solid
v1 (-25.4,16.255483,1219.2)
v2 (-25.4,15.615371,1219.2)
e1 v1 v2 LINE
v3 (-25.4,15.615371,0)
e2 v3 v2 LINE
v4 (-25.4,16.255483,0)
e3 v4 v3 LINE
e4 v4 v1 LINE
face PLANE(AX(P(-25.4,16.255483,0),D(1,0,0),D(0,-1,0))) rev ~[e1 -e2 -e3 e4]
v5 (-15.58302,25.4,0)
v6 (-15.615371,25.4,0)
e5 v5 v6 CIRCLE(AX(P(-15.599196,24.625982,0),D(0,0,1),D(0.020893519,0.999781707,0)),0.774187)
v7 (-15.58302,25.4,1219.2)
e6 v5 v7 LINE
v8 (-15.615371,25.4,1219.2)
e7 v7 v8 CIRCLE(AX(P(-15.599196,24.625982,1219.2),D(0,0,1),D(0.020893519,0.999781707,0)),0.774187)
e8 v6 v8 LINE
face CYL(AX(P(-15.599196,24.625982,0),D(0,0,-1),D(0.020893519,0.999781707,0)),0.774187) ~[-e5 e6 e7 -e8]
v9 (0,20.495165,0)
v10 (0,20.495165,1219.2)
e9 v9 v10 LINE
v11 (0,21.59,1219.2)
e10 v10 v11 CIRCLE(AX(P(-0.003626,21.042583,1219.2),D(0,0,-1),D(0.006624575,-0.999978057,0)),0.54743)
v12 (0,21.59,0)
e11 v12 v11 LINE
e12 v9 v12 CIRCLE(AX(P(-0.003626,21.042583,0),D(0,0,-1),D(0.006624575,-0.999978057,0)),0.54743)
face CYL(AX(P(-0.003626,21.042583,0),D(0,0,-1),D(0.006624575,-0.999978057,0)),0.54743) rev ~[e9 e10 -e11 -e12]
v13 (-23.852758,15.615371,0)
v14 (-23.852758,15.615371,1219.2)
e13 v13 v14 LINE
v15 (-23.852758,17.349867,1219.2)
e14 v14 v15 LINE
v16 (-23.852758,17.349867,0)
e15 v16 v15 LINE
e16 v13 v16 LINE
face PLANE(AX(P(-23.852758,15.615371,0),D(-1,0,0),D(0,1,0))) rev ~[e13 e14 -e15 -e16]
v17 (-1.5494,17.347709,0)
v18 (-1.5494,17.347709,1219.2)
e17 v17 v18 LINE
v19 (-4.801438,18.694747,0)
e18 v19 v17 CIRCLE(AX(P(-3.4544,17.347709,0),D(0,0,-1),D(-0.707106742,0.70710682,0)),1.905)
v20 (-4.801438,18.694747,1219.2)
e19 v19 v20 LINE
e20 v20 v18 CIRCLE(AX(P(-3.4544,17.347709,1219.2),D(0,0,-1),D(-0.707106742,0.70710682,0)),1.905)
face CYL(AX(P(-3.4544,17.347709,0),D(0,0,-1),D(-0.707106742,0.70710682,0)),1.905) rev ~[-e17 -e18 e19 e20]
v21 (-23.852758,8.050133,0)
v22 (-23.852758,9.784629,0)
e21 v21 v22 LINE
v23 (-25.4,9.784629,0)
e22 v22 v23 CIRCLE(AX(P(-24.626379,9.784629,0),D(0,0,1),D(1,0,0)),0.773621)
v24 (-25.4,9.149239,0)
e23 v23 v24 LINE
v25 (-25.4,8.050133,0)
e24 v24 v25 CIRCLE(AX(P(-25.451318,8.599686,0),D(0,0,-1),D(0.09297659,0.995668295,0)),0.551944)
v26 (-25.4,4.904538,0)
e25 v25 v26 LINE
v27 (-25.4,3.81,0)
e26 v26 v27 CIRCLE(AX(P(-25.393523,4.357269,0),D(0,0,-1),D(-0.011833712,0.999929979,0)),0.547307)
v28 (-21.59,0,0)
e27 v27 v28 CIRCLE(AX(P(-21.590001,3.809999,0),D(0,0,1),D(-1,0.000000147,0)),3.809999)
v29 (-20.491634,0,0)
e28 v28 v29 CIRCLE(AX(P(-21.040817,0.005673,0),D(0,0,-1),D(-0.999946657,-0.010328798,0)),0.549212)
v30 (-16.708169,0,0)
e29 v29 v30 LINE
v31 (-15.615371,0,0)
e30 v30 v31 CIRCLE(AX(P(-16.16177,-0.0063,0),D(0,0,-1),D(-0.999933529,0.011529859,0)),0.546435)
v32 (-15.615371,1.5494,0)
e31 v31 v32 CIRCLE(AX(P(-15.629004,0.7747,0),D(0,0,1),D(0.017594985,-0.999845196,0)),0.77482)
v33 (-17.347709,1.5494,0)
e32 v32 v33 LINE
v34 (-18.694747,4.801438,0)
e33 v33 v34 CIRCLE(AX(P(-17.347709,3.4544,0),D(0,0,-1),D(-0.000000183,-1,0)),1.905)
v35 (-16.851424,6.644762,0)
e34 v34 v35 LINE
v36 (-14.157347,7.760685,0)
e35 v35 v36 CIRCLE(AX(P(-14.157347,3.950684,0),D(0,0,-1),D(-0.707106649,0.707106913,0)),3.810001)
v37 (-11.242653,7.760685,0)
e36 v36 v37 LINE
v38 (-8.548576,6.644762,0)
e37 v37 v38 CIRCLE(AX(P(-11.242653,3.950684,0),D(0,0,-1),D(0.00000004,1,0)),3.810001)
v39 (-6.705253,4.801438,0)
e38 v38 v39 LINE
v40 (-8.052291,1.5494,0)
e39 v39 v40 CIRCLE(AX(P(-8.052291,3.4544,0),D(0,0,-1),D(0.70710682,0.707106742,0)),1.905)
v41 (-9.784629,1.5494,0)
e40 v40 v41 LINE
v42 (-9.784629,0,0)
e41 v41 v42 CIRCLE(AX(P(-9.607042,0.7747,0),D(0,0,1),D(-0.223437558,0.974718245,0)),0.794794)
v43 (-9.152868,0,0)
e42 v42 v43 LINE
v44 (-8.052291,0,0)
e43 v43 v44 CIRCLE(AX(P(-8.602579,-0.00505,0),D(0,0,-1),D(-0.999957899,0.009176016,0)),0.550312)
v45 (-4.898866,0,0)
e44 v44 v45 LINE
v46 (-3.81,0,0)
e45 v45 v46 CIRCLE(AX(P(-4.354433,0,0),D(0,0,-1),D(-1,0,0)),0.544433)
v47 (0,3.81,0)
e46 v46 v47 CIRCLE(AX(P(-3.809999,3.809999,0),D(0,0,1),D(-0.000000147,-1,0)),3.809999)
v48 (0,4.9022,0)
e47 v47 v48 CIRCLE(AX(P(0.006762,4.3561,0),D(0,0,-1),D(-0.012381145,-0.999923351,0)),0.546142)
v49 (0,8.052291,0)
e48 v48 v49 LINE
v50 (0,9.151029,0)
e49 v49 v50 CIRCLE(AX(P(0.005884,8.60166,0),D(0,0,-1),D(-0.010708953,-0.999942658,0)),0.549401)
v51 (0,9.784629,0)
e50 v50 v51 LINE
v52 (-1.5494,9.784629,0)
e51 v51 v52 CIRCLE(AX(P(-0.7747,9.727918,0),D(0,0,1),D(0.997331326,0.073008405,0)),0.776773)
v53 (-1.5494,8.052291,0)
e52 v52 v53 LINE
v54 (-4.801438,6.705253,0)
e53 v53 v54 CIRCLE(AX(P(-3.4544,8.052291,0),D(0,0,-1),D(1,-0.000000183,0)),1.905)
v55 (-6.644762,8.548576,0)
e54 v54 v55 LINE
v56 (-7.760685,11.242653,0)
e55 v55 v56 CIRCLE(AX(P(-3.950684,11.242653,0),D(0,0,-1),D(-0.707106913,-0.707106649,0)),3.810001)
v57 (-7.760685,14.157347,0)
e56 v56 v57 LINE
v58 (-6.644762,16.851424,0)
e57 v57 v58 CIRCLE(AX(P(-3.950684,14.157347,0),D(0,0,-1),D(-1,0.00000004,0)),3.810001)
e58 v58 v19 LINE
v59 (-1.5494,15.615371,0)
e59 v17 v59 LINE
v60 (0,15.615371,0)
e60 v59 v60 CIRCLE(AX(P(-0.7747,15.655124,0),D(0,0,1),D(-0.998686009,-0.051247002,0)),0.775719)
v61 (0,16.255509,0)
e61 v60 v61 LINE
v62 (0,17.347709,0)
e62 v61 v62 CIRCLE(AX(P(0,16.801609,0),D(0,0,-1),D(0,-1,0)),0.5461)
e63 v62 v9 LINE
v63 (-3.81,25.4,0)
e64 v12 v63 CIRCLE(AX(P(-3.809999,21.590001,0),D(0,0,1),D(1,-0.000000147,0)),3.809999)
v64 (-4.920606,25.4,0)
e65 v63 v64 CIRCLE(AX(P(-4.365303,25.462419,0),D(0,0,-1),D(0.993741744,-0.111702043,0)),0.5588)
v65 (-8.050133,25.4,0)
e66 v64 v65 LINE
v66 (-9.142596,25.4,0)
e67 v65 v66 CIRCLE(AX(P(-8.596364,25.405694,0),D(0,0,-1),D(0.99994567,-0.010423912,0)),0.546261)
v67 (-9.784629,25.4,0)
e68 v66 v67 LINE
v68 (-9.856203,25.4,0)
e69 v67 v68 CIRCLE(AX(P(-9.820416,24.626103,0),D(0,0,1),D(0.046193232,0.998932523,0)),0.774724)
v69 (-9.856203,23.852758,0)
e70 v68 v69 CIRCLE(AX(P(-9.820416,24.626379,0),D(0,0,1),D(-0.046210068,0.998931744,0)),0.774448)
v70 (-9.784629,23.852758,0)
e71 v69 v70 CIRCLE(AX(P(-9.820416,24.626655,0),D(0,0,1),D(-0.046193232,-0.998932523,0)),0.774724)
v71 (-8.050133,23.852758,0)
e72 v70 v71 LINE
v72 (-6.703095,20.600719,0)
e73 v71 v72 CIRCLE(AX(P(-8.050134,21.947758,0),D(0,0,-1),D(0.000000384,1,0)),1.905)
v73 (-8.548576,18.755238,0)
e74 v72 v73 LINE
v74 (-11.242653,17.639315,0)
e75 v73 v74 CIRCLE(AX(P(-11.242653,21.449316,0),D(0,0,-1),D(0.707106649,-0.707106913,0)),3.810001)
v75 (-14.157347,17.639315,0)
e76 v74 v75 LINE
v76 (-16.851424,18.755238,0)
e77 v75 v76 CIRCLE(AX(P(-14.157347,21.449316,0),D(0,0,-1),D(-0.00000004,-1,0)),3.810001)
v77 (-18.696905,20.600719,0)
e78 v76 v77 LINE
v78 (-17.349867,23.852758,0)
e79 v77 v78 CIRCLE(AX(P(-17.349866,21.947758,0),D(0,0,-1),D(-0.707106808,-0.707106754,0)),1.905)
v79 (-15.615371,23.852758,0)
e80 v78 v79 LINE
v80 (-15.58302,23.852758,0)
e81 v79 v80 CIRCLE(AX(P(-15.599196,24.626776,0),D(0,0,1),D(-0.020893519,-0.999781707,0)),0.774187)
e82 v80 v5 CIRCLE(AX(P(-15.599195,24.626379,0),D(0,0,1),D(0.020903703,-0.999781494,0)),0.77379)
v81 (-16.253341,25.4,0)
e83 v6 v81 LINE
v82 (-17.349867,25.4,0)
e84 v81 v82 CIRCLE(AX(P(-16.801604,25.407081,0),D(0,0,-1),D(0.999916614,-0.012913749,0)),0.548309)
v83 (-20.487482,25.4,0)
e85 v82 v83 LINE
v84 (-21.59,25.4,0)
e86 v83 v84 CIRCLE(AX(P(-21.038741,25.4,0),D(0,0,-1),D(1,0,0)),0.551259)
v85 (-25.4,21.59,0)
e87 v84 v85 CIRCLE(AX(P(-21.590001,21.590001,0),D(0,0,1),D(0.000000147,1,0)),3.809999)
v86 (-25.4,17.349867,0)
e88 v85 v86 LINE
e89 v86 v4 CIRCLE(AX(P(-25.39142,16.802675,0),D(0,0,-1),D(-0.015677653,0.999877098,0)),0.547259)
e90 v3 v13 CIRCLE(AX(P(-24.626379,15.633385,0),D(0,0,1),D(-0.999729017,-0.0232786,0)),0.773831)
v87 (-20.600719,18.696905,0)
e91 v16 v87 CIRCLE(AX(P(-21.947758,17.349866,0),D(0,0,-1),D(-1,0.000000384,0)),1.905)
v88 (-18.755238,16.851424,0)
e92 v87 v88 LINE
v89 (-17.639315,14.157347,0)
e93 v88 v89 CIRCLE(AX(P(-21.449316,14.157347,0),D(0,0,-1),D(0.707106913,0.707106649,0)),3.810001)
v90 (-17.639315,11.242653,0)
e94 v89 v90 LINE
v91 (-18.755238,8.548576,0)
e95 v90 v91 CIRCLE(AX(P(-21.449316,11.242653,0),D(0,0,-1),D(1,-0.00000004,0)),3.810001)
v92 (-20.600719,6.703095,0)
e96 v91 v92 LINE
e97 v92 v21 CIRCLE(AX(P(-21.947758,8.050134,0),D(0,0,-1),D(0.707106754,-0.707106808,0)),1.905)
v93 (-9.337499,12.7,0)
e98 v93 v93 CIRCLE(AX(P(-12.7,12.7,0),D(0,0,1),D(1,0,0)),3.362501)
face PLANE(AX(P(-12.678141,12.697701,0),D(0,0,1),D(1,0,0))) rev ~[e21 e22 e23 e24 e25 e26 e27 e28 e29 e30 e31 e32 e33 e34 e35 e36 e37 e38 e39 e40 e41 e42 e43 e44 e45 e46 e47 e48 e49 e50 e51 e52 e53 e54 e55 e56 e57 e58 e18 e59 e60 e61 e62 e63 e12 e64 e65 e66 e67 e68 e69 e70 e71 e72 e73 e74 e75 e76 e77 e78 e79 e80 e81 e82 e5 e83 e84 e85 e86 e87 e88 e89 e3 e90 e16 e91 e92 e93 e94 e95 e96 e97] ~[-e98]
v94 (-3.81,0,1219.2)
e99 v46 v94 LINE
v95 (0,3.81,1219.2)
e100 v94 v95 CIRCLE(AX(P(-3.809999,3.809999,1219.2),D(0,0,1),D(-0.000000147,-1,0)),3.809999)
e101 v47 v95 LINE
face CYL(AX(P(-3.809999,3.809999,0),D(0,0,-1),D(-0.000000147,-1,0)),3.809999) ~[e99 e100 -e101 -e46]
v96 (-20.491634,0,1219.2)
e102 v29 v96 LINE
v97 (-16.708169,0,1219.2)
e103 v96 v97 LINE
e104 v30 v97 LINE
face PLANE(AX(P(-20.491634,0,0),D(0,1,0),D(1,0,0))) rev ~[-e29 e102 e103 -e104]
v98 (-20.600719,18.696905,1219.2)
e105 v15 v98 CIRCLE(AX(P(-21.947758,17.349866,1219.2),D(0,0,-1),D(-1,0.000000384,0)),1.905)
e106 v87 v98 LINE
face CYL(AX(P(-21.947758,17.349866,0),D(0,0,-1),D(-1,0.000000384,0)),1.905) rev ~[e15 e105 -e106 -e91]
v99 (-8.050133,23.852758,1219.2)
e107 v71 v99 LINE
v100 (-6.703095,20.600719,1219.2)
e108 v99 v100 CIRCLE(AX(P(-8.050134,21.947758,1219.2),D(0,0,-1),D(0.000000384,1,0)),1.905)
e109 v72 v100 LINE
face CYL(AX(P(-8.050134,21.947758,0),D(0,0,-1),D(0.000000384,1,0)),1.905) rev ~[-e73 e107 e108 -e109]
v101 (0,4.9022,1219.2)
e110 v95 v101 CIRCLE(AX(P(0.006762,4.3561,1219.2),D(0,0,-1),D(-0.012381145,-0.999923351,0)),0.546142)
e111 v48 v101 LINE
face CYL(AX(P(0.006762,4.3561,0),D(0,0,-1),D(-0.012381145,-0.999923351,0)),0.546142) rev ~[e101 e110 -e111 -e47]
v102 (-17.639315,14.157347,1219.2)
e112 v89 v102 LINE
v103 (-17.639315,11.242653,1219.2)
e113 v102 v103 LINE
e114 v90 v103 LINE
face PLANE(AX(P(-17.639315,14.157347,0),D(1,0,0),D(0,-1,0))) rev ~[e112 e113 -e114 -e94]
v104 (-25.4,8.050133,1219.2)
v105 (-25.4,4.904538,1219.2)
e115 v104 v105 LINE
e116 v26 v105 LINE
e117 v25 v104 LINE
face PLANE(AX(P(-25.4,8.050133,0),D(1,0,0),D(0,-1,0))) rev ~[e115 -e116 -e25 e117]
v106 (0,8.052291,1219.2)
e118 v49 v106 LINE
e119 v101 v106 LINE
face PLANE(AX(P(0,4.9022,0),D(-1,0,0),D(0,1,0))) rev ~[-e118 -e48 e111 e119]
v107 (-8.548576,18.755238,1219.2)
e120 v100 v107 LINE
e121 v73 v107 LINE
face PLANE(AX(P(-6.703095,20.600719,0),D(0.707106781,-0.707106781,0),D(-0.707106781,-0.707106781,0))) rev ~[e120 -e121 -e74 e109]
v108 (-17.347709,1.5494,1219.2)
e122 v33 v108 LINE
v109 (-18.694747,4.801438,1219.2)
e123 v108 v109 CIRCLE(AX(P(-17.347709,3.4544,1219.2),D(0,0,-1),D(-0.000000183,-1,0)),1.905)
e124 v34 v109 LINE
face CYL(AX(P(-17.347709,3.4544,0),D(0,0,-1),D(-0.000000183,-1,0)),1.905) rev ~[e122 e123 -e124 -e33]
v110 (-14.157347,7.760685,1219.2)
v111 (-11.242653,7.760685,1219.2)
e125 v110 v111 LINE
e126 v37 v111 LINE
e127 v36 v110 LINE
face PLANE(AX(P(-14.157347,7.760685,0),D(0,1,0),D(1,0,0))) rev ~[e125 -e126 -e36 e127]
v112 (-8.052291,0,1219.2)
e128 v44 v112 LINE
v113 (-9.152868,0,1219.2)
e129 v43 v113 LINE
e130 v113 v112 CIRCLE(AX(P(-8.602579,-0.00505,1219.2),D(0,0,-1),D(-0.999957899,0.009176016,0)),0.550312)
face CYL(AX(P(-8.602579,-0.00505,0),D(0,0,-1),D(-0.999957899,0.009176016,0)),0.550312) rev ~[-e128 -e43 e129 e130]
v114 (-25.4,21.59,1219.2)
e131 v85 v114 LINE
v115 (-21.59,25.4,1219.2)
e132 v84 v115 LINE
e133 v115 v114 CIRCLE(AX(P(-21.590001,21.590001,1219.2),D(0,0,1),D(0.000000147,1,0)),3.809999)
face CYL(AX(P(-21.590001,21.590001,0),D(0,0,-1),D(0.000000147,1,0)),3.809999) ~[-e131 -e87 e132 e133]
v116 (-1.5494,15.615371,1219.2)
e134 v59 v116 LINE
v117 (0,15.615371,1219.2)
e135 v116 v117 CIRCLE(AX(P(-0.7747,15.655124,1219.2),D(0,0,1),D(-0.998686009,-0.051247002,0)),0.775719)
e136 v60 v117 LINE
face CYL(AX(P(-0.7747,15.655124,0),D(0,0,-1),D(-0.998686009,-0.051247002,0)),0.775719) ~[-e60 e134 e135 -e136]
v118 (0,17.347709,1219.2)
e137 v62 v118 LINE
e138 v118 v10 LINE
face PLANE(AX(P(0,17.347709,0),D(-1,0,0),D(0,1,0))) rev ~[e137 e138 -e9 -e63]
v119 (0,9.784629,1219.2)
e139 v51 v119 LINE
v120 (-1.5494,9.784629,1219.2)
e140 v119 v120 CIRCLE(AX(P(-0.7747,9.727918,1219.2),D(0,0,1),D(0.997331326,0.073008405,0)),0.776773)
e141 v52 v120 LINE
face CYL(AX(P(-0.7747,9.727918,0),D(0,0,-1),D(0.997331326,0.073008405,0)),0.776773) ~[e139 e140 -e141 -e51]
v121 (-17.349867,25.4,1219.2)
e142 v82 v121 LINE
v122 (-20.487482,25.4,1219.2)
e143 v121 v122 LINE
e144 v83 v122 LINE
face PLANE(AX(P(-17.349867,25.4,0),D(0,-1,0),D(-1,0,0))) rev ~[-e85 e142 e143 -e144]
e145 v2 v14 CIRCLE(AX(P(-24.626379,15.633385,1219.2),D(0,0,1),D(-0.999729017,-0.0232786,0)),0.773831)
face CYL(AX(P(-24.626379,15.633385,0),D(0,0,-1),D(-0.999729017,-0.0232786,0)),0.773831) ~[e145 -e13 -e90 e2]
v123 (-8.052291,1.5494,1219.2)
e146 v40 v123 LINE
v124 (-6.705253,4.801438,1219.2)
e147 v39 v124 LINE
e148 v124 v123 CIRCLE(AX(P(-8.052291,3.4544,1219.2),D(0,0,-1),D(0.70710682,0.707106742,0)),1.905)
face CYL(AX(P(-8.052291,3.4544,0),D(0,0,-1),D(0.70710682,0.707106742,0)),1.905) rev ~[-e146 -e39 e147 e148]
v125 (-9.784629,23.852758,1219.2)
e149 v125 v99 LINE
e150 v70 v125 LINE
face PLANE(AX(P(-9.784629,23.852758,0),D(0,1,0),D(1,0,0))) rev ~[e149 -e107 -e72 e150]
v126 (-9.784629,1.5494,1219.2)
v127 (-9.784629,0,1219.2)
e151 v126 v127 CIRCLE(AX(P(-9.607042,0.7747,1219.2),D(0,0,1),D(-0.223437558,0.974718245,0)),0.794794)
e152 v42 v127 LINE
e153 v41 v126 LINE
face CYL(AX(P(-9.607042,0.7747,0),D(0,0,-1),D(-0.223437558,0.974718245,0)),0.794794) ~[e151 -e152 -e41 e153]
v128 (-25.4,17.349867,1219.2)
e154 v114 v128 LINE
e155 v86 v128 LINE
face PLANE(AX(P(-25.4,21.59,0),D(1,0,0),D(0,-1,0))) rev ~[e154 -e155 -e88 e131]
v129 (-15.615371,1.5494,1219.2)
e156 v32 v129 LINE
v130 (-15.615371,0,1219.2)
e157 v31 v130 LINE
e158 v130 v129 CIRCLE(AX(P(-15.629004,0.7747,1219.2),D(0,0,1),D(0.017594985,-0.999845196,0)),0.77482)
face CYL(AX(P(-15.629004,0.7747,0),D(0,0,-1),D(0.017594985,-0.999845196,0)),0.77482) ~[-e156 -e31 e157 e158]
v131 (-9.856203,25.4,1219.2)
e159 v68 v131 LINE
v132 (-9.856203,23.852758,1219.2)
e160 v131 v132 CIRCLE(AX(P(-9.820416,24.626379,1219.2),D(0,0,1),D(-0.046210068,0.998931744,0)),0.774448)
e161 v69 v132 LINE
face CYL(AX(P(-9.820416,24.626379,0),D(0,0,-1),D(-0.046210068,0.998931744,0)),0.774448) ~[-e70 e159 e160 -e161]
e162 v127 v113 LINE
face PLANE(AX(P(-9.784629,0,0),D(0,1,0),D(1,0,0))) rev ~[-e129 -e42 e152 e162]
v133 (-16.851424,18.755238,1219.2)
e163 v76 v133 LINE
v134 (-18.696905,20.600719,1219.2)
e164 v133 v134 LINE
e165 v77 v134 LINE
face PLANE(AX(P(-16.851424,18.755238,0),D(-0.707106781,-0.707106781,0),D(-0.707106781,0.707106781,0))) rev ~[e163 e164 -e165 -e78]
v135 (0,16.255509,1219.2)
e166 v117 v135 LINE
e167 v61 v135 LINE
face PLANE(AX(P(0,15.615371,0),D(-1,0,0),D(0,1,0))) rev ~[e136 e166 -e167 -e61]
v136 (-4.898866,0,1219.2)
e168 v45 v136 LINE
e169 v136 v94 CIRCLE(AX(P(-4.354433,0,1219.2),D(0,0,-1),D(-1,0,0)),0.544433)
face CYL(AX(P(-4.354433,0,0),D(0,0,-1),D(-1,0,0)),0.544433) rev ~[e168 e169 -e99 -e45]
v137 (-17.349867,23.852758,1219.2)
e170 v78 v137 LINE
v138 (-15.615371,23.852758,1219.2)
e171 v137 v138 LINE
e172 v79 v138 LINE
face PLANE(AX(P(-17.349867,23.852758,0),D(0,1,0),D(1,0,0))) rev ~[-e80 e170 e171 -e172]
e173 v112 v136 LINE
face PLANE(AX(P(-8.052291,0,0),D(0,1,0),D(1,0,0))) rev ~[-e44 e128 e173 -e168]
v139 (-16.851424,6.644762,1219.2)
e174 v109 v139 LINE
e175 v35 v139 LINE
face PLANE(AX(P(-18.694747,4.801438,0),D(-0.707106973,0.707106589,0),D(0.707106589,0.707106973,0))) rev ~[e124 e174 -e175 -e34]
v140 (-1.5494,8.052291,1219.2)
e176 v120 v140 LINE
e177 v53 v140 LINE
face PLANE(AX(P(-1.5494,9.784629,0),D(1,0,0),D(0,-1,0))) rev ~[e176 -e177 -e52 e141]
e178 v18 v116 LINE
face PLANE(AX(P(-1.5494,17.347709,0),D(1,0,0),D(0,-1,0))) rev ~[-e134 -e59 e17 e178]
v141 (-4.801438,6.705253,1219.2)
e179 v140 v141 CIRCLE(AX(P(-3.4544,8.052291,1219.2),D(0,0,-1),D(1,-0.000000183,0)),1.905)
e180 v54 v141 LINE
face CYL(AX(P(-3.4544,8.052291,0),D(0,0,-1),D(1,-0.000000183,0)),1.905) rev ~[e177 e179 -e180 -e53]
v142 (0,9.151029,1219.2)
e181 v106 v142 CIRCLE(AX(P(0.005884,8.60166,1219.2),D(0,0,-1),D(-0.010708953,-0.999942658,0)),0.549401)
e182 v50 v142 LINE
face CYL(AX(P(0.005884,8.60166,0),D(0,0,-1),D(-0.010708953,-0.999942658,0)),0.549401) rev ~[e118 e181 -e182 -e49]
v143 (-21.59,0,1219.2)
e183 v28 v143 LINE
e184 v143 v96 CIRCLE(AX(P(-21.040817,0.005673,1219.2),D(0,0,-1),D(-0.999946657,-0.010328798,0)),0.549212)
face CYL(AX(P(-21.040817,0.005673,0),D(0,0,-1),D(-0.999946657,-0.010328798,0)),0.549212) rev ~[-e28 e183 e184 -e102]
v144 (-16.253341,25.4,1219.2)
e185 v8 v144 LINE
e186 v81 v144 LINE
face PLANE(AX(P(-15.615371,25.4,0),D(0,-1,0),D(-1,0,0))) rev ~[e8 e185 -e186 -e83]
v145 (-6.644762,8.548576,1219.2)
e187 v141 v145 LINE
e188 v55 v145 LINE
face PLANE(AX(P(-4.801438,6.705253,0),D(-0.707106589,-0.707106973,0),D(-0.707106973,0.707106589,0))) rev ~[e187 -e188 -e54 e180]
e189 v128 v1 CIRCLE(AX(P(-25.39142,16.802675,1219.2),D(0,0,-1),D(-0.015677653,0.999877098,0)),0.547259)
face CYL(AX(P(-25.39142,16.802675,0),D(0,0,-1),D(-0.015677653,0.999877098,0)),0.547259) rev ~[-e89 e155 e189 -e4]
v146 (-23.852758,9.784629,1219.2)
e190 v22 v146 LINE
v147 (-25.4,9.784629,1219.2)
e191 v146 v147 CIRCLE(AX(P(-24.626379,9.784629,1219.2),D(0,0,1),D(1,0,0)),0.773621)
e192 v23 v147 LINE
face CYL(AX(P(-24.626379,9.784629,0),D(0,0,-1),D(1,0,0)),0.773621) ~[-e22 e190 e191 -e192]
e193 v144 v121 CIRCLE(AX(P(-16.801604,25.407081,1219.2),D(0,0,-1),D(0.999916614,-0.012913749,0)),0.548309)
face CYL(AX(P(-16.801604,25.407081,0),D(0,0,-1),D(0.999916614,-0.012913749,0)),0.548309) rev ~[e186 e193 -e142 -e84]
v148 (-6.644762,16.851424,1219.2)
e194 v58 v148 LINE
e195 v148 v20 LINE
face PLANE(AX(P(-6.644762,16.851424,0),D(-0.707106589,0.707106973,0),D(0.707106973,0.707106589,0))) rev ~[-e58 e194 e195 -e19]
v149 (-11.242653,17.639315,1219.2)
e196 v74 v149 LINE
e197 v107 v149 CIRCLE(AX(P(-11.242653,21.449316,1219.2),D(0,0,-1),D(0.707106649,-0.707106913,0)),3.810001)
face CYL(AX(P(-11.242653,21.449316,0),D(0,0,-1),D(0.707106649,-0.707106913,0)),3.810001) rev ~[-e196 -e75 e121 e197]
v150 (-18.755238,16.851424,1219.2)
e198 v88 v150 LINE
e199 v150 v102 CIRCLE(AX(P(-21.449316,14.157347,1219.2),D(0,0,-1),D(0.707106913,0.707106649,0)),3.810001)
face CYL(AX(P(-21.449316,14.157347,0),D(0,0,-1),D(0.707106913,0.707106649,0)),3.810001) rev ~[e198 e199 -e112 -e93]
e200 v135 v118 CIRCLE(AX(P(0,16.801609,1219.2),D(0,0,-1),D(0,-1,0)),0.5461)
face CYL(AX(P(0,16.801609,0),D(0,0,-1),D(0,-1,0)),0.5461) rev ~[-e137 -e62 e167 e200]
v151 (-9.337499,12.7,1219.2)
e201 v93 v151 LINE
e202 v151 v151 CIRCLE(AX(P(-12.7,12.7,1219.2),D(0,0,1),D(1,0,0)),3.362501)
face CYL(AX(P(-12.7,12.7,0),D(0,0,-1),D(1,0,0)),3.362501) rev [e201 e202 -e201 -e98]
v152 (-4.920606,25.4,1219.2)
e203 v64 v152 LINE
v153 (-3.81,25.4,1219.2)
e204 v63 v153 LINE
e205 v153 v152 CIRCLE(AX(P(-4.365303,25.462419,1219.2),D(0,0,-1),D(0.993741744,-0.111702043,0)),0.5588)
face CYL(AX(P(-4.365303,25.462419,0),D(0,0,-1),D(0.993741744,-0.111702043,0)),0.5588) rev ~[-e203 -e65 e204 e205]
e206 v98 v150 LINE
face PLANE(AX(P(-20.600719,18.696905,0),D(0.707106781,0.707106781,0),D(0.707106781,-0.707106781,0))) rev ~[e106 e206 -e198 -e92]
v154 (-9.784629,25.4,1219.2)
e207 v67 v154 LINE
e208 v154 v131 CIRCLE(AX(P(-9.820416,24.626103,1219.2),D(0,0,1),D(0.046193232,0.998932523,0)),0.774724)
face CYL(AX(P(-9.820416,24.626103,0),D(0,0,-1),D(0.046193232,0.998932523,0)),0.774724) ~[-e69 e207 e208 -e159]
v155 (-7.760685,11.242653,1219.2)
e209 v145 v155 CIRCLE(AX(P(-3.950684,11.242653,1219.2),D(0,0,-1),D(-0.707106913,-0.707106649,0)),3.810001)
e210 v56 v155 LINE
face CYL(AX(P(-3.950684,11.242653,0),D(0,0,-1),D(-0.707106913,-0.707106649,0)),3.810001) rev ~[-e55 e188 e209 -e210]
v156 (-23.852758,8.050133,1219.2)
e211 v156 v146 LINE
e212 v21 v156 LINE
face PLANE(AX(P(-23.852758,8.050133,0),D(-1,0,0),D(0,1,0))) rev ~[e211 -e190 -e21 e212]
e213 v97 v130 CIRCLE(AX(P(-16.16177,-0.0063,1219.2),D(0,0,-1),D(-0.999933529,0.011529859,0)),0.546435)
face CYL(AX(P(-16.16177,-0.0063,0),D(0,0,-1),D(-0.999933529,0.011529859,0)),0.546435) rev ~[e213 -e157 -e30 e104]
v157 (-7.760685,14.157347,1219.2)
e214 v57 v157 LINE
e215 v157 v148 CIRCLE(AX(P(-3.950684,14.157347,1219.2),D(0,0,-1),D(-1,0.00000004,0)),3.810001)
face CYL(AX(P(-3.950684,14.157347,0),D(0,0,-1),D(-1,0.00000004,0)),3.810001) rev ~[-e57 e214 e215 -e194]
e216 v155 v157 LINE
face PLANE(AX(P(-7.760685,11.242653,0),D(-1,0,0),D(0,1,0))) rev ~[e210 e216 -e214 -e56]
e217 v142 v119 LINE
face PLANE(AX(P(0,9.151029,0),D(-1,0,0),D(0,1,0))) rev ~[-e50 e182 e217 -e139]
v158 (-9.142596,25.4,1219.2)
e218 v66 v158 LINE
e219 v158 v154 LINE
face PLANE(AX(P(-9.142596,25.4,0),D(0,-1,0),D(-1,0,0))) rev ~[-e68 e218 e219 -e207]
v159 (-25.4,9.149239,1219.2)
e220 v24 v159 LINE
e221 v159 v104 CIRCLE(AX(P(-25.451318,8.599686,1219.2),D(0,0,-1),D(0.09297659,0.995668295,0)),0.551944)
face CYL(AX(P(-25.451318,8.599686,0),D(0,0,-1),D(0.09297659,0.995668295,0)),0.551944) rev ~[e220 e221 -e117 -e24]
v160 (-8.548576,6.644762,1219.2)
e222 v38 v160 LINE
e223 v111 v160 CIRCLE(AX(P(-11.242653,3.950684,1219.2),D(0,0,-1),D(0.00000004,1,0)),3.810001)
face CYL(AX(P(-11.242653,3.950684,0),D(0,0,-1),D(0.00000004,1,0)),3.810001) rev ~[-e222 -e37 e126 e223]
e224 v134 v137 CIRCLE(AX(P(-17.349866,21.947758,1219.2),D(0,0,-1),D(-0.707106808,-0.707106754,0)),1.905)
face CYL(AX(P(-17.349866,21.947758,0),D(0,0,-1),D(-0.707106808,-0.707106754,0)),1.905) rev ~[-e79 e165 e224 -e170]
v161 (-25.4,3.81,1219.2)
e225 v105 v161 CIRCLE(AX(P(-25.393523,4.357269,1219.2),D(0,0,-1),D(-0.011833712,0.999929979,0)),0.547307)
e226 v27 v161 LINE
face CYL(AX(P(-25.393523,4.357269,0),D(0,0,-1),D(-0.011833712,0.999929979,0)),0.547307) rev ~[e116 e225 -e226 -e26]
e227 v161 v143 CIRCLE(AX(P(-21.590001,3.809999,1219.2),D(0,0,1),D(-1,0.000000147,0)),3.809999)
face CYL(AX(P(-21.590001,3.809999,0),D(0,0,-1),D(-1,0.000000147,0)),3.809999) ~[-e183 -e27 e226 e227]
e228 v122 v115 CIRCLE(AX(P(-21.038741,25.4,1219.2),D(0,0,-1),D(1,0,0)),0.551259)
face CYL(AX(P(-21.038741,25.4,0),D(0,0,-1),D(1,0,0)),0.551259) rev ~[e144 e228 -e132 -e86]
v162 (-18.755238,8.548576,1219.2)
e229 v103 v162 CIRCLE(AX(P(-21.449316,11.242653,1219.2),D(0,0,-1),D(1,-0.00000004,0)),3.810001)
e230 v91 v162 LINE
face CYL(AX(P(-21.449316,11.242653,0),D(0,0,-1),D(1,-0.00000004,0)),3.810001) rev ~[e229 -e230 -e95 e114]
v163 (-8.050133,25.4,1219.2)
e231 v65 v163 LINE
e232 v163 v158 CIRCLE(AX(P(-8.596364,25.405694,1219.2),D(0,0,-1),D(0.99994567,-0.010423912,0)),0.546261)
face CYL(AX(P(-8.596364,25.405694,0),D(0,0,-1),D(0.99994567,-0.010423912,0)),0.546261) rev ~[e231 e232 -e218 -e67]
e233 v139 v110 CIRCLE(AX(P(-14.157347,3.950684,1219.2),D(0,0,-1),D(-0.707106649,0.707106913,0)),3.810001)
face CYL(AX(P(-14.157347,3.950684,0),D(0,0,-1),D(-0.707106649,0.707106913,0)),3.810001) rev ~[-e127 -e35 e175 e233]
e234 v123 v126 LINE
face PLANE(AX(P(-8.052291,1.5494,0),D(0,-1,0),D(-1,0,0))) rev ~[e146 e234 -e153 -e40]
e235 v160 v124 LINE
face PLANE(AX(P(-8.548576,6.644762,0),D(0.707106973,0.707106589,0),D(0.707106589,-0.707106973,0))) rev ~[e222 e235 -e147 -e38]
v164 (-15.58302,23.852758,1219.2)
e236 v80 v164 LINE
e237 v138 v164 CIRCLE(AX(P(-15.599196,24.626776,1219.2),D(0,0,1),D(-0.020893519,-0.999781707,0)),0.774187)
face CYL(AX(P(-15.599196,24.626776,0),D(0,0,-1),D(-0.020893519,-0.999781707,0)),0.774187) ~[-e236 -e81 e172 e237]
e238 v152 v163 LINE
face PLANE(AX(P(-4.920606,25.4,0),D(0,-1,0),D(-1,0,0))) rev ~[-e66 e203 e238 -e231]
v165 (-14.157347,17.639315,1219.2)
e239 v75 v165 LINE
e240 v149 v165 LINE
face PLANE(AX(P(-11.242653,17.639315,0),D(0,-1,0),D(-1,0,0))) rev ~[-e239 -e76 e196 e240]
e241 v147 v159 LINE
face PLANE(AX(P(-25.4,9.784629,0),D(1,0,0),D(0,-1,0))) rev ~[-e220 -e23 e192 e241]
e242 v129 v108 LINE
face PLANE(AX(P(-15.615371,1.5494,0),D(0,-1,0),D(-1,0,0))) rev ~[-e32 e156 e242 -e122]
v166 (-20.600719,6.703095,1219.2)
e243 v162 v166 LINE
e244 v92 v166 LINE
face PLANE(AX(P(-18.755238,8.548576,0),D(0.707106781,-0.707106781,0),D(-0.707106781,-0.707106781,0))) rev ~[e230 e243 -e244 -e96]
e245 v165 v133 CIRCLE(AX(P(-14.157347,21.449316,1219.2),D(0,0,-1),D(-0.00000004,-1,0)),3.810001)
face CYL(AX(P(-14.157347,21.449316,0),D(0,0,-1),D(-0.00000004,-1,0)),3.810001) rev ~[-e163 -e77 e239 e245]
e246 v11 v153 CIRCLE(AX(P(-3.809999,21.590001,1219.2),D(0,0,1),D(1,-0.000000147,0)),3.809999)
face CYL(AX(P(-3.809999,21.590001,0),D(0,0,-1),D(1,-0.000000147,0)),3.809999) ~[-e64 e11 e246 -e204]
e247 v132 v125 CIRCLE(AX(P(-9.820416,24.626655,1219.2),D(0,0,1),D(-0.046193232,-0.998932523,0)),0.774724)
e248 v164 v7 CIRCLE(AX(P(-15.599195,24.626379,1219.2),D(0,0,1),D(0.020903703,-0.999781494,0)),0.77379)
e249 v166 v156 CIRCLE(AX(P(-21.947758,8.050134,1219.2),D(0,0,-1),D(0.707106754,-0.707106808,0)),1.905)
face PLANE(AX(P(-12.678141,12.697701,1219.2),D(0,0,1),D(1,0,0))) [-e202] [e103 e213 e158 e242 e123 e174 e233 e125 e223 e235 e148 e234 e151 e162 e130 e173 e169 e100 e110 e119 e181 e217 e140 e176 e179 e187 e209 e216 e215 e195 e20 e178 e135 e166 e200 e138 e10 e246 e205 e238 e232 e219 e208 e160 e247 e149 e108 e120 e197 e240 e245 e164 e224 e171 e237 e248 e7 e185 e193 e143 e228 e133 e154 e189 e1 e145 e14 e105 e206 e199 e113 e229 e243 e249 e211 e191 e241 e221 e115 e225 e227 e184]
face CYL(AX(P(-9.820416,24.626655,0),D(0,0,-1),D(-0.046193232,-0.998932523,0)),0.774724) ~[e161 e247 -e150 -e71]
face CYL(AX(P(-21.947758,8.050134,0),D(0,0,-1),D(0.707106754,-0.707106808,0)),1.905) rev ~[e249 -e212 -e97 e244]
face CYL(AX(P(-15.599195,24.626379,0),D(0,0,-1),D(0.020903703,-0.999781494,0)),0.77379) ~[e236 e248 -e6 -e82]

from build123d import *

# Parameters (mm, degrees)
F0_R     = 3.362501
F1_DEPTH = 1219.2


with BuildPart() as f1:
    # F0 (on Top) → F1 (new body)
    with BuildSketch(Plane.XY):
        with BuildLine():
            ThreePointArc((-8.548576, 18.755238), (-9.784629, 17.929334), (-11.242653, 17.639315))
            Line((-11.242653, 17.639315), (-14.157347, 17.639315))
            ThreePointArc((-14.157347, 17.639315), (-15.615371, 17.929334), (-16.851424, 18.755238))
            Line((-16.851424, 18.755238), (-18.696905, 20.600719))
            ThreePointArc((-18.696905, 20.600719), (-19.109857, 22.67677), (-17.349867, 23.852758))
            Line((-17.349867, 23.852758), (-15.615371, 23.852758))
            Line((-15.615371, 23.852758), (-15.58302, 23.852758))
            ThreePointArc((-15.58302, 23.852758), (-14.825405, 24.626379), (-15.58302, 25.4))
            Line((-15.58302, 25.4), (-15.615371, 25.4))
            Line((-15.615371, 25.4), (-16.253341, 25.4))
            ThreePointArc((-16.253341, 25.4), (-16.801604, 24.858772), (-17.349867, 25.4))
            Line((-17.349867, 25.4), (-20.487482, 25.4))
            ThreePointArc((-20.487482, 25.4), (-21.038741, 24.848741), (-21.59, 25.4))
            ThreePointArc((-21.59, 25.4), (-24.284077, 24.284077), (-25.4, 21.59))
            Line((-25.4, 21.59), (-25.4, 20.504724))
            Line((-25.4, 20.504724), (-25.4, 17.349867))
            ThreePointArc((-25.4, 17.349867), (-24.844161, 16.802675), (-25.4, 16.255483))
            Line((-25.4, 16.255483), (-25.4, 15.615371))
            ThreePointArc((-25.4, 15.615371), (-24.626379, 14.859554), (-23.852758, 15.615371))
            Line((-23.852758, 15.615371), (-23.852758, 17.349867))
            ThreePointArc((-23.852758, 17.349867), (-22.67677, 19.109857), (-20.600719, 18.696905))
            Line((-20.600719, 18.696905), (-18.755238, 16.851424))
            ThreePointArc((-18.755238, 16.851424), (-17.929334, 15.615371), (-17.639315, 14.157347))
            Line((-17.639315, 14.157347), (-17.639315, 11.242653))
            ThreePointArc((-17.639315, 11.242653), (-17.929334, 9.784629), (-18.755238, 8.548576))
            Line((-18.755238, 8.548576), (-20.600719, 6.703095))
            ThreePointArc((-20.600719, 6.703095), (-22.67677, 6.290143), (-23.852758, 8.050133))
            Line((-23.852758, 8.050133), (-23.852758, 9.784629))
            ThreePointArc((-23.852758, 9.784629), (-24.626379, 10.55825), (-25.4, 9.784629))
            Line((-25.4, 9.784629), (-25.4, 9.149239))
            ThreePointArc((-25.4, 9.149239), (-24.899374, 8.599686), (-25.4, 8.050133))
            Line((-25.4, 8.050133), (-25.4, 4.904538))
            ThreePointArc((-25.4, 4.904538), (-24.846216, 4.357269), (-25.4, 3.81))
            ThreePointArc((-25.4, 3.81), (-24.284077, 1.115923), (-21.59, 0))
            ThreePointArc((-21.59, 0), (-21.040817, 0.554885), (-20.491634, 0))
            Line((-20.491634, 0), (-16.708169, 0))
            ThreePointArc((-16.708169, 0), (-16.16177, 0.540135), (-15.615371, 0))
            ThreePointArc((-15.615371, 0), (-14.854184, 0.7747), (-15.615371, 1.5494))
            Line((-15.615371, 1.5494), (-17.347709, 1.5494))
            ThreePointArc((-17.347709, 1.5494), (-19.107699, 2.725388), (-18.694747, 4.801438))
            Line((-18.694747, 4.801438), (-16.851424, 6.644762))
            ThreePointArc((-16.851424, 6.644762), (-15.615371, 7.470666), (-14.157347, 7.760685))
            Line((-14.157347, 7.760685), (-11.242653, 7.760685))
            ThreePointArc((-11.242653, 7.760685), (-9.784629, 7.470666), (-8.548576, 6.644762))
            Line((-8.548576, 6.644762), (-6.705253, 4.801438))
            ThreePointArc((-6.705253, 4.801438), (-6.292301, 2.725388), (-8.052291, 1.5494))
            Line((-8.052291, 1.5494), (-9.784629, 1.5494))
            ThreePointArc((-9.784629, 1.5494), (-10.401836, 0.7747), (-9.784629, 0))
            Line((-9.784629, 0), (-9.152868, 0))
            ThreePointArc((-9.152868, 0), (-8.602579, 0.545262), (-8.052291, 0))
            Line((-8.052291, 0), (-4.898866, 0))
            ThreePointArc((-4.898866, 0), (-4.354433, 0.544433), (-3.81, 0))
            ThreePointArc((-3.81, 0), (-1.115923, 1.115923), (0, 3.81))
            ThreePointArc((0, 3.81), (-0.53938, 4.3561), (0, 4.9022))
            Line((0, 4.9022), (0, 8.052291))
            ThreePointArc((0, 8.052291), (-0.543517, 8.60166), (0, 9.151029))
            Line((0, 9.151029), (0, 9.784629))
            ThreePointArc((0, 9.784629), (-0.7747, 10.504691), (-1.5494, 9.784629))
            Line((-1.5494, 9.784629), (-1.5494, 8.052291))
            ThreePointArc((-1.5494, 8.052291), (-2.725388, 6.292301), (-4.801438, 6.705253))
            Line((-4.801438, 6.705253), (-6.644762, 8.548576))
            ThreePointArc((-6.644762, 8.548576), (-7.470666, 9.784629), (-7.760685, 11.242653))
            Line((-7.760685, 11.242653), (-7.760685, 14.157347))
            ThreePointArc((-7.760685, 14.157347), (-7.470666, 15.615371), (-6.644762, 16.851424))
            Line((-6.644762, 16.851424), (-4.801438, 18.694747))
            ThreePointArc((-4.801438, 18.694747), (-2.725388, 19.107699), (-1.5494, 17.347709))
            Line((-1.5494, 17.347709), (-1.5494, 15.615371))
            ThreePointArc((-1.5494, 15.615371), (-0.7747, 14.879405), (0, 15.615371))
            Line((0, 15.615371), (0, 16.255509))
            ThreePointArc((0, 16.255509), (-0.5461, 16.801609), (0, 17.347709))
            Line((0, 17.347709), (0, 20.495165))
            ThreePointArc((0, 20.495165), (-0.551056, 21.042583), (0, 21.59))
            ThreePointArc((0, 21.59), (-1.115923, 24.284077), (-3.81, 25.4))
            ThreePointArc((-3.81, 25.4), (-4.365303, 24.903619), (-4.920606, 25.4))
            Line((-4.920606, 25.4), (-8.050133, 25.4))
            ThreePointArc((-8.050133, 25.4), (-8.596365, 24.859433), (-9.142596, 25.4))
            Line((-9.142596, 25.4), (-9.784629, 25.4))
            Line((-9.784629, 25.4), (-9.856203, 25.4))
            ThreePointArc((-9.856203, 25.4), (-10.594864, 24.626379), (-9.856203, 23.852758))
            Line((-9.856203, 23.852758), (-9.784629, 23.852758))
            Line((-9.784629, 23.852758), (-8.050133, 23.852758))
            ThreePointArc((-8.050133, 23.852758), (-6.290143, 22.67677), (-6.703095, 20.600719))
            Line((-6.703095, 20.600719), (-8.548576, 18.755238))
        make_face()
        with Locations((-12.7, 12.7)):
            Circle(F0_R, mode=Mode.SUBTRACT)
        with BuildLine():
            ThreePointArc((-9.856203, 23.852758), (-9.820416, 23.851931), (-9.784629, 23.852758))
            Line((-9.784629, 23.852758), (-9.856203, 23.852758))
        make_face()
        with BuildLine():
            Line((-15.58302, 23.852758), (-15.615371, 23.852758))
            ThreePointArc((-15.615371, 23.852758), (-15.599195, 23.852589), (-15.58302, 23.852758))
        make_face()
        with BuildLine():
            ThreePointArc((-9.784629, 25.4), (-9.820416, 25.400827), (-9.856203, 25.4))
            Line((-9.856203, 25.4), (-9.784629, 25.4))
        make_face()
        with BuildLine():
            Line((-15.615371, 25.4), (-15.58302, 25.4))
            ThreePointArc((-15.58302, 25.4), (-15.599195, 25.400169), (-15.615371, 25.4))
        make_face()
    extrude(amount=F1_DEPTH)


solid = f1.part
